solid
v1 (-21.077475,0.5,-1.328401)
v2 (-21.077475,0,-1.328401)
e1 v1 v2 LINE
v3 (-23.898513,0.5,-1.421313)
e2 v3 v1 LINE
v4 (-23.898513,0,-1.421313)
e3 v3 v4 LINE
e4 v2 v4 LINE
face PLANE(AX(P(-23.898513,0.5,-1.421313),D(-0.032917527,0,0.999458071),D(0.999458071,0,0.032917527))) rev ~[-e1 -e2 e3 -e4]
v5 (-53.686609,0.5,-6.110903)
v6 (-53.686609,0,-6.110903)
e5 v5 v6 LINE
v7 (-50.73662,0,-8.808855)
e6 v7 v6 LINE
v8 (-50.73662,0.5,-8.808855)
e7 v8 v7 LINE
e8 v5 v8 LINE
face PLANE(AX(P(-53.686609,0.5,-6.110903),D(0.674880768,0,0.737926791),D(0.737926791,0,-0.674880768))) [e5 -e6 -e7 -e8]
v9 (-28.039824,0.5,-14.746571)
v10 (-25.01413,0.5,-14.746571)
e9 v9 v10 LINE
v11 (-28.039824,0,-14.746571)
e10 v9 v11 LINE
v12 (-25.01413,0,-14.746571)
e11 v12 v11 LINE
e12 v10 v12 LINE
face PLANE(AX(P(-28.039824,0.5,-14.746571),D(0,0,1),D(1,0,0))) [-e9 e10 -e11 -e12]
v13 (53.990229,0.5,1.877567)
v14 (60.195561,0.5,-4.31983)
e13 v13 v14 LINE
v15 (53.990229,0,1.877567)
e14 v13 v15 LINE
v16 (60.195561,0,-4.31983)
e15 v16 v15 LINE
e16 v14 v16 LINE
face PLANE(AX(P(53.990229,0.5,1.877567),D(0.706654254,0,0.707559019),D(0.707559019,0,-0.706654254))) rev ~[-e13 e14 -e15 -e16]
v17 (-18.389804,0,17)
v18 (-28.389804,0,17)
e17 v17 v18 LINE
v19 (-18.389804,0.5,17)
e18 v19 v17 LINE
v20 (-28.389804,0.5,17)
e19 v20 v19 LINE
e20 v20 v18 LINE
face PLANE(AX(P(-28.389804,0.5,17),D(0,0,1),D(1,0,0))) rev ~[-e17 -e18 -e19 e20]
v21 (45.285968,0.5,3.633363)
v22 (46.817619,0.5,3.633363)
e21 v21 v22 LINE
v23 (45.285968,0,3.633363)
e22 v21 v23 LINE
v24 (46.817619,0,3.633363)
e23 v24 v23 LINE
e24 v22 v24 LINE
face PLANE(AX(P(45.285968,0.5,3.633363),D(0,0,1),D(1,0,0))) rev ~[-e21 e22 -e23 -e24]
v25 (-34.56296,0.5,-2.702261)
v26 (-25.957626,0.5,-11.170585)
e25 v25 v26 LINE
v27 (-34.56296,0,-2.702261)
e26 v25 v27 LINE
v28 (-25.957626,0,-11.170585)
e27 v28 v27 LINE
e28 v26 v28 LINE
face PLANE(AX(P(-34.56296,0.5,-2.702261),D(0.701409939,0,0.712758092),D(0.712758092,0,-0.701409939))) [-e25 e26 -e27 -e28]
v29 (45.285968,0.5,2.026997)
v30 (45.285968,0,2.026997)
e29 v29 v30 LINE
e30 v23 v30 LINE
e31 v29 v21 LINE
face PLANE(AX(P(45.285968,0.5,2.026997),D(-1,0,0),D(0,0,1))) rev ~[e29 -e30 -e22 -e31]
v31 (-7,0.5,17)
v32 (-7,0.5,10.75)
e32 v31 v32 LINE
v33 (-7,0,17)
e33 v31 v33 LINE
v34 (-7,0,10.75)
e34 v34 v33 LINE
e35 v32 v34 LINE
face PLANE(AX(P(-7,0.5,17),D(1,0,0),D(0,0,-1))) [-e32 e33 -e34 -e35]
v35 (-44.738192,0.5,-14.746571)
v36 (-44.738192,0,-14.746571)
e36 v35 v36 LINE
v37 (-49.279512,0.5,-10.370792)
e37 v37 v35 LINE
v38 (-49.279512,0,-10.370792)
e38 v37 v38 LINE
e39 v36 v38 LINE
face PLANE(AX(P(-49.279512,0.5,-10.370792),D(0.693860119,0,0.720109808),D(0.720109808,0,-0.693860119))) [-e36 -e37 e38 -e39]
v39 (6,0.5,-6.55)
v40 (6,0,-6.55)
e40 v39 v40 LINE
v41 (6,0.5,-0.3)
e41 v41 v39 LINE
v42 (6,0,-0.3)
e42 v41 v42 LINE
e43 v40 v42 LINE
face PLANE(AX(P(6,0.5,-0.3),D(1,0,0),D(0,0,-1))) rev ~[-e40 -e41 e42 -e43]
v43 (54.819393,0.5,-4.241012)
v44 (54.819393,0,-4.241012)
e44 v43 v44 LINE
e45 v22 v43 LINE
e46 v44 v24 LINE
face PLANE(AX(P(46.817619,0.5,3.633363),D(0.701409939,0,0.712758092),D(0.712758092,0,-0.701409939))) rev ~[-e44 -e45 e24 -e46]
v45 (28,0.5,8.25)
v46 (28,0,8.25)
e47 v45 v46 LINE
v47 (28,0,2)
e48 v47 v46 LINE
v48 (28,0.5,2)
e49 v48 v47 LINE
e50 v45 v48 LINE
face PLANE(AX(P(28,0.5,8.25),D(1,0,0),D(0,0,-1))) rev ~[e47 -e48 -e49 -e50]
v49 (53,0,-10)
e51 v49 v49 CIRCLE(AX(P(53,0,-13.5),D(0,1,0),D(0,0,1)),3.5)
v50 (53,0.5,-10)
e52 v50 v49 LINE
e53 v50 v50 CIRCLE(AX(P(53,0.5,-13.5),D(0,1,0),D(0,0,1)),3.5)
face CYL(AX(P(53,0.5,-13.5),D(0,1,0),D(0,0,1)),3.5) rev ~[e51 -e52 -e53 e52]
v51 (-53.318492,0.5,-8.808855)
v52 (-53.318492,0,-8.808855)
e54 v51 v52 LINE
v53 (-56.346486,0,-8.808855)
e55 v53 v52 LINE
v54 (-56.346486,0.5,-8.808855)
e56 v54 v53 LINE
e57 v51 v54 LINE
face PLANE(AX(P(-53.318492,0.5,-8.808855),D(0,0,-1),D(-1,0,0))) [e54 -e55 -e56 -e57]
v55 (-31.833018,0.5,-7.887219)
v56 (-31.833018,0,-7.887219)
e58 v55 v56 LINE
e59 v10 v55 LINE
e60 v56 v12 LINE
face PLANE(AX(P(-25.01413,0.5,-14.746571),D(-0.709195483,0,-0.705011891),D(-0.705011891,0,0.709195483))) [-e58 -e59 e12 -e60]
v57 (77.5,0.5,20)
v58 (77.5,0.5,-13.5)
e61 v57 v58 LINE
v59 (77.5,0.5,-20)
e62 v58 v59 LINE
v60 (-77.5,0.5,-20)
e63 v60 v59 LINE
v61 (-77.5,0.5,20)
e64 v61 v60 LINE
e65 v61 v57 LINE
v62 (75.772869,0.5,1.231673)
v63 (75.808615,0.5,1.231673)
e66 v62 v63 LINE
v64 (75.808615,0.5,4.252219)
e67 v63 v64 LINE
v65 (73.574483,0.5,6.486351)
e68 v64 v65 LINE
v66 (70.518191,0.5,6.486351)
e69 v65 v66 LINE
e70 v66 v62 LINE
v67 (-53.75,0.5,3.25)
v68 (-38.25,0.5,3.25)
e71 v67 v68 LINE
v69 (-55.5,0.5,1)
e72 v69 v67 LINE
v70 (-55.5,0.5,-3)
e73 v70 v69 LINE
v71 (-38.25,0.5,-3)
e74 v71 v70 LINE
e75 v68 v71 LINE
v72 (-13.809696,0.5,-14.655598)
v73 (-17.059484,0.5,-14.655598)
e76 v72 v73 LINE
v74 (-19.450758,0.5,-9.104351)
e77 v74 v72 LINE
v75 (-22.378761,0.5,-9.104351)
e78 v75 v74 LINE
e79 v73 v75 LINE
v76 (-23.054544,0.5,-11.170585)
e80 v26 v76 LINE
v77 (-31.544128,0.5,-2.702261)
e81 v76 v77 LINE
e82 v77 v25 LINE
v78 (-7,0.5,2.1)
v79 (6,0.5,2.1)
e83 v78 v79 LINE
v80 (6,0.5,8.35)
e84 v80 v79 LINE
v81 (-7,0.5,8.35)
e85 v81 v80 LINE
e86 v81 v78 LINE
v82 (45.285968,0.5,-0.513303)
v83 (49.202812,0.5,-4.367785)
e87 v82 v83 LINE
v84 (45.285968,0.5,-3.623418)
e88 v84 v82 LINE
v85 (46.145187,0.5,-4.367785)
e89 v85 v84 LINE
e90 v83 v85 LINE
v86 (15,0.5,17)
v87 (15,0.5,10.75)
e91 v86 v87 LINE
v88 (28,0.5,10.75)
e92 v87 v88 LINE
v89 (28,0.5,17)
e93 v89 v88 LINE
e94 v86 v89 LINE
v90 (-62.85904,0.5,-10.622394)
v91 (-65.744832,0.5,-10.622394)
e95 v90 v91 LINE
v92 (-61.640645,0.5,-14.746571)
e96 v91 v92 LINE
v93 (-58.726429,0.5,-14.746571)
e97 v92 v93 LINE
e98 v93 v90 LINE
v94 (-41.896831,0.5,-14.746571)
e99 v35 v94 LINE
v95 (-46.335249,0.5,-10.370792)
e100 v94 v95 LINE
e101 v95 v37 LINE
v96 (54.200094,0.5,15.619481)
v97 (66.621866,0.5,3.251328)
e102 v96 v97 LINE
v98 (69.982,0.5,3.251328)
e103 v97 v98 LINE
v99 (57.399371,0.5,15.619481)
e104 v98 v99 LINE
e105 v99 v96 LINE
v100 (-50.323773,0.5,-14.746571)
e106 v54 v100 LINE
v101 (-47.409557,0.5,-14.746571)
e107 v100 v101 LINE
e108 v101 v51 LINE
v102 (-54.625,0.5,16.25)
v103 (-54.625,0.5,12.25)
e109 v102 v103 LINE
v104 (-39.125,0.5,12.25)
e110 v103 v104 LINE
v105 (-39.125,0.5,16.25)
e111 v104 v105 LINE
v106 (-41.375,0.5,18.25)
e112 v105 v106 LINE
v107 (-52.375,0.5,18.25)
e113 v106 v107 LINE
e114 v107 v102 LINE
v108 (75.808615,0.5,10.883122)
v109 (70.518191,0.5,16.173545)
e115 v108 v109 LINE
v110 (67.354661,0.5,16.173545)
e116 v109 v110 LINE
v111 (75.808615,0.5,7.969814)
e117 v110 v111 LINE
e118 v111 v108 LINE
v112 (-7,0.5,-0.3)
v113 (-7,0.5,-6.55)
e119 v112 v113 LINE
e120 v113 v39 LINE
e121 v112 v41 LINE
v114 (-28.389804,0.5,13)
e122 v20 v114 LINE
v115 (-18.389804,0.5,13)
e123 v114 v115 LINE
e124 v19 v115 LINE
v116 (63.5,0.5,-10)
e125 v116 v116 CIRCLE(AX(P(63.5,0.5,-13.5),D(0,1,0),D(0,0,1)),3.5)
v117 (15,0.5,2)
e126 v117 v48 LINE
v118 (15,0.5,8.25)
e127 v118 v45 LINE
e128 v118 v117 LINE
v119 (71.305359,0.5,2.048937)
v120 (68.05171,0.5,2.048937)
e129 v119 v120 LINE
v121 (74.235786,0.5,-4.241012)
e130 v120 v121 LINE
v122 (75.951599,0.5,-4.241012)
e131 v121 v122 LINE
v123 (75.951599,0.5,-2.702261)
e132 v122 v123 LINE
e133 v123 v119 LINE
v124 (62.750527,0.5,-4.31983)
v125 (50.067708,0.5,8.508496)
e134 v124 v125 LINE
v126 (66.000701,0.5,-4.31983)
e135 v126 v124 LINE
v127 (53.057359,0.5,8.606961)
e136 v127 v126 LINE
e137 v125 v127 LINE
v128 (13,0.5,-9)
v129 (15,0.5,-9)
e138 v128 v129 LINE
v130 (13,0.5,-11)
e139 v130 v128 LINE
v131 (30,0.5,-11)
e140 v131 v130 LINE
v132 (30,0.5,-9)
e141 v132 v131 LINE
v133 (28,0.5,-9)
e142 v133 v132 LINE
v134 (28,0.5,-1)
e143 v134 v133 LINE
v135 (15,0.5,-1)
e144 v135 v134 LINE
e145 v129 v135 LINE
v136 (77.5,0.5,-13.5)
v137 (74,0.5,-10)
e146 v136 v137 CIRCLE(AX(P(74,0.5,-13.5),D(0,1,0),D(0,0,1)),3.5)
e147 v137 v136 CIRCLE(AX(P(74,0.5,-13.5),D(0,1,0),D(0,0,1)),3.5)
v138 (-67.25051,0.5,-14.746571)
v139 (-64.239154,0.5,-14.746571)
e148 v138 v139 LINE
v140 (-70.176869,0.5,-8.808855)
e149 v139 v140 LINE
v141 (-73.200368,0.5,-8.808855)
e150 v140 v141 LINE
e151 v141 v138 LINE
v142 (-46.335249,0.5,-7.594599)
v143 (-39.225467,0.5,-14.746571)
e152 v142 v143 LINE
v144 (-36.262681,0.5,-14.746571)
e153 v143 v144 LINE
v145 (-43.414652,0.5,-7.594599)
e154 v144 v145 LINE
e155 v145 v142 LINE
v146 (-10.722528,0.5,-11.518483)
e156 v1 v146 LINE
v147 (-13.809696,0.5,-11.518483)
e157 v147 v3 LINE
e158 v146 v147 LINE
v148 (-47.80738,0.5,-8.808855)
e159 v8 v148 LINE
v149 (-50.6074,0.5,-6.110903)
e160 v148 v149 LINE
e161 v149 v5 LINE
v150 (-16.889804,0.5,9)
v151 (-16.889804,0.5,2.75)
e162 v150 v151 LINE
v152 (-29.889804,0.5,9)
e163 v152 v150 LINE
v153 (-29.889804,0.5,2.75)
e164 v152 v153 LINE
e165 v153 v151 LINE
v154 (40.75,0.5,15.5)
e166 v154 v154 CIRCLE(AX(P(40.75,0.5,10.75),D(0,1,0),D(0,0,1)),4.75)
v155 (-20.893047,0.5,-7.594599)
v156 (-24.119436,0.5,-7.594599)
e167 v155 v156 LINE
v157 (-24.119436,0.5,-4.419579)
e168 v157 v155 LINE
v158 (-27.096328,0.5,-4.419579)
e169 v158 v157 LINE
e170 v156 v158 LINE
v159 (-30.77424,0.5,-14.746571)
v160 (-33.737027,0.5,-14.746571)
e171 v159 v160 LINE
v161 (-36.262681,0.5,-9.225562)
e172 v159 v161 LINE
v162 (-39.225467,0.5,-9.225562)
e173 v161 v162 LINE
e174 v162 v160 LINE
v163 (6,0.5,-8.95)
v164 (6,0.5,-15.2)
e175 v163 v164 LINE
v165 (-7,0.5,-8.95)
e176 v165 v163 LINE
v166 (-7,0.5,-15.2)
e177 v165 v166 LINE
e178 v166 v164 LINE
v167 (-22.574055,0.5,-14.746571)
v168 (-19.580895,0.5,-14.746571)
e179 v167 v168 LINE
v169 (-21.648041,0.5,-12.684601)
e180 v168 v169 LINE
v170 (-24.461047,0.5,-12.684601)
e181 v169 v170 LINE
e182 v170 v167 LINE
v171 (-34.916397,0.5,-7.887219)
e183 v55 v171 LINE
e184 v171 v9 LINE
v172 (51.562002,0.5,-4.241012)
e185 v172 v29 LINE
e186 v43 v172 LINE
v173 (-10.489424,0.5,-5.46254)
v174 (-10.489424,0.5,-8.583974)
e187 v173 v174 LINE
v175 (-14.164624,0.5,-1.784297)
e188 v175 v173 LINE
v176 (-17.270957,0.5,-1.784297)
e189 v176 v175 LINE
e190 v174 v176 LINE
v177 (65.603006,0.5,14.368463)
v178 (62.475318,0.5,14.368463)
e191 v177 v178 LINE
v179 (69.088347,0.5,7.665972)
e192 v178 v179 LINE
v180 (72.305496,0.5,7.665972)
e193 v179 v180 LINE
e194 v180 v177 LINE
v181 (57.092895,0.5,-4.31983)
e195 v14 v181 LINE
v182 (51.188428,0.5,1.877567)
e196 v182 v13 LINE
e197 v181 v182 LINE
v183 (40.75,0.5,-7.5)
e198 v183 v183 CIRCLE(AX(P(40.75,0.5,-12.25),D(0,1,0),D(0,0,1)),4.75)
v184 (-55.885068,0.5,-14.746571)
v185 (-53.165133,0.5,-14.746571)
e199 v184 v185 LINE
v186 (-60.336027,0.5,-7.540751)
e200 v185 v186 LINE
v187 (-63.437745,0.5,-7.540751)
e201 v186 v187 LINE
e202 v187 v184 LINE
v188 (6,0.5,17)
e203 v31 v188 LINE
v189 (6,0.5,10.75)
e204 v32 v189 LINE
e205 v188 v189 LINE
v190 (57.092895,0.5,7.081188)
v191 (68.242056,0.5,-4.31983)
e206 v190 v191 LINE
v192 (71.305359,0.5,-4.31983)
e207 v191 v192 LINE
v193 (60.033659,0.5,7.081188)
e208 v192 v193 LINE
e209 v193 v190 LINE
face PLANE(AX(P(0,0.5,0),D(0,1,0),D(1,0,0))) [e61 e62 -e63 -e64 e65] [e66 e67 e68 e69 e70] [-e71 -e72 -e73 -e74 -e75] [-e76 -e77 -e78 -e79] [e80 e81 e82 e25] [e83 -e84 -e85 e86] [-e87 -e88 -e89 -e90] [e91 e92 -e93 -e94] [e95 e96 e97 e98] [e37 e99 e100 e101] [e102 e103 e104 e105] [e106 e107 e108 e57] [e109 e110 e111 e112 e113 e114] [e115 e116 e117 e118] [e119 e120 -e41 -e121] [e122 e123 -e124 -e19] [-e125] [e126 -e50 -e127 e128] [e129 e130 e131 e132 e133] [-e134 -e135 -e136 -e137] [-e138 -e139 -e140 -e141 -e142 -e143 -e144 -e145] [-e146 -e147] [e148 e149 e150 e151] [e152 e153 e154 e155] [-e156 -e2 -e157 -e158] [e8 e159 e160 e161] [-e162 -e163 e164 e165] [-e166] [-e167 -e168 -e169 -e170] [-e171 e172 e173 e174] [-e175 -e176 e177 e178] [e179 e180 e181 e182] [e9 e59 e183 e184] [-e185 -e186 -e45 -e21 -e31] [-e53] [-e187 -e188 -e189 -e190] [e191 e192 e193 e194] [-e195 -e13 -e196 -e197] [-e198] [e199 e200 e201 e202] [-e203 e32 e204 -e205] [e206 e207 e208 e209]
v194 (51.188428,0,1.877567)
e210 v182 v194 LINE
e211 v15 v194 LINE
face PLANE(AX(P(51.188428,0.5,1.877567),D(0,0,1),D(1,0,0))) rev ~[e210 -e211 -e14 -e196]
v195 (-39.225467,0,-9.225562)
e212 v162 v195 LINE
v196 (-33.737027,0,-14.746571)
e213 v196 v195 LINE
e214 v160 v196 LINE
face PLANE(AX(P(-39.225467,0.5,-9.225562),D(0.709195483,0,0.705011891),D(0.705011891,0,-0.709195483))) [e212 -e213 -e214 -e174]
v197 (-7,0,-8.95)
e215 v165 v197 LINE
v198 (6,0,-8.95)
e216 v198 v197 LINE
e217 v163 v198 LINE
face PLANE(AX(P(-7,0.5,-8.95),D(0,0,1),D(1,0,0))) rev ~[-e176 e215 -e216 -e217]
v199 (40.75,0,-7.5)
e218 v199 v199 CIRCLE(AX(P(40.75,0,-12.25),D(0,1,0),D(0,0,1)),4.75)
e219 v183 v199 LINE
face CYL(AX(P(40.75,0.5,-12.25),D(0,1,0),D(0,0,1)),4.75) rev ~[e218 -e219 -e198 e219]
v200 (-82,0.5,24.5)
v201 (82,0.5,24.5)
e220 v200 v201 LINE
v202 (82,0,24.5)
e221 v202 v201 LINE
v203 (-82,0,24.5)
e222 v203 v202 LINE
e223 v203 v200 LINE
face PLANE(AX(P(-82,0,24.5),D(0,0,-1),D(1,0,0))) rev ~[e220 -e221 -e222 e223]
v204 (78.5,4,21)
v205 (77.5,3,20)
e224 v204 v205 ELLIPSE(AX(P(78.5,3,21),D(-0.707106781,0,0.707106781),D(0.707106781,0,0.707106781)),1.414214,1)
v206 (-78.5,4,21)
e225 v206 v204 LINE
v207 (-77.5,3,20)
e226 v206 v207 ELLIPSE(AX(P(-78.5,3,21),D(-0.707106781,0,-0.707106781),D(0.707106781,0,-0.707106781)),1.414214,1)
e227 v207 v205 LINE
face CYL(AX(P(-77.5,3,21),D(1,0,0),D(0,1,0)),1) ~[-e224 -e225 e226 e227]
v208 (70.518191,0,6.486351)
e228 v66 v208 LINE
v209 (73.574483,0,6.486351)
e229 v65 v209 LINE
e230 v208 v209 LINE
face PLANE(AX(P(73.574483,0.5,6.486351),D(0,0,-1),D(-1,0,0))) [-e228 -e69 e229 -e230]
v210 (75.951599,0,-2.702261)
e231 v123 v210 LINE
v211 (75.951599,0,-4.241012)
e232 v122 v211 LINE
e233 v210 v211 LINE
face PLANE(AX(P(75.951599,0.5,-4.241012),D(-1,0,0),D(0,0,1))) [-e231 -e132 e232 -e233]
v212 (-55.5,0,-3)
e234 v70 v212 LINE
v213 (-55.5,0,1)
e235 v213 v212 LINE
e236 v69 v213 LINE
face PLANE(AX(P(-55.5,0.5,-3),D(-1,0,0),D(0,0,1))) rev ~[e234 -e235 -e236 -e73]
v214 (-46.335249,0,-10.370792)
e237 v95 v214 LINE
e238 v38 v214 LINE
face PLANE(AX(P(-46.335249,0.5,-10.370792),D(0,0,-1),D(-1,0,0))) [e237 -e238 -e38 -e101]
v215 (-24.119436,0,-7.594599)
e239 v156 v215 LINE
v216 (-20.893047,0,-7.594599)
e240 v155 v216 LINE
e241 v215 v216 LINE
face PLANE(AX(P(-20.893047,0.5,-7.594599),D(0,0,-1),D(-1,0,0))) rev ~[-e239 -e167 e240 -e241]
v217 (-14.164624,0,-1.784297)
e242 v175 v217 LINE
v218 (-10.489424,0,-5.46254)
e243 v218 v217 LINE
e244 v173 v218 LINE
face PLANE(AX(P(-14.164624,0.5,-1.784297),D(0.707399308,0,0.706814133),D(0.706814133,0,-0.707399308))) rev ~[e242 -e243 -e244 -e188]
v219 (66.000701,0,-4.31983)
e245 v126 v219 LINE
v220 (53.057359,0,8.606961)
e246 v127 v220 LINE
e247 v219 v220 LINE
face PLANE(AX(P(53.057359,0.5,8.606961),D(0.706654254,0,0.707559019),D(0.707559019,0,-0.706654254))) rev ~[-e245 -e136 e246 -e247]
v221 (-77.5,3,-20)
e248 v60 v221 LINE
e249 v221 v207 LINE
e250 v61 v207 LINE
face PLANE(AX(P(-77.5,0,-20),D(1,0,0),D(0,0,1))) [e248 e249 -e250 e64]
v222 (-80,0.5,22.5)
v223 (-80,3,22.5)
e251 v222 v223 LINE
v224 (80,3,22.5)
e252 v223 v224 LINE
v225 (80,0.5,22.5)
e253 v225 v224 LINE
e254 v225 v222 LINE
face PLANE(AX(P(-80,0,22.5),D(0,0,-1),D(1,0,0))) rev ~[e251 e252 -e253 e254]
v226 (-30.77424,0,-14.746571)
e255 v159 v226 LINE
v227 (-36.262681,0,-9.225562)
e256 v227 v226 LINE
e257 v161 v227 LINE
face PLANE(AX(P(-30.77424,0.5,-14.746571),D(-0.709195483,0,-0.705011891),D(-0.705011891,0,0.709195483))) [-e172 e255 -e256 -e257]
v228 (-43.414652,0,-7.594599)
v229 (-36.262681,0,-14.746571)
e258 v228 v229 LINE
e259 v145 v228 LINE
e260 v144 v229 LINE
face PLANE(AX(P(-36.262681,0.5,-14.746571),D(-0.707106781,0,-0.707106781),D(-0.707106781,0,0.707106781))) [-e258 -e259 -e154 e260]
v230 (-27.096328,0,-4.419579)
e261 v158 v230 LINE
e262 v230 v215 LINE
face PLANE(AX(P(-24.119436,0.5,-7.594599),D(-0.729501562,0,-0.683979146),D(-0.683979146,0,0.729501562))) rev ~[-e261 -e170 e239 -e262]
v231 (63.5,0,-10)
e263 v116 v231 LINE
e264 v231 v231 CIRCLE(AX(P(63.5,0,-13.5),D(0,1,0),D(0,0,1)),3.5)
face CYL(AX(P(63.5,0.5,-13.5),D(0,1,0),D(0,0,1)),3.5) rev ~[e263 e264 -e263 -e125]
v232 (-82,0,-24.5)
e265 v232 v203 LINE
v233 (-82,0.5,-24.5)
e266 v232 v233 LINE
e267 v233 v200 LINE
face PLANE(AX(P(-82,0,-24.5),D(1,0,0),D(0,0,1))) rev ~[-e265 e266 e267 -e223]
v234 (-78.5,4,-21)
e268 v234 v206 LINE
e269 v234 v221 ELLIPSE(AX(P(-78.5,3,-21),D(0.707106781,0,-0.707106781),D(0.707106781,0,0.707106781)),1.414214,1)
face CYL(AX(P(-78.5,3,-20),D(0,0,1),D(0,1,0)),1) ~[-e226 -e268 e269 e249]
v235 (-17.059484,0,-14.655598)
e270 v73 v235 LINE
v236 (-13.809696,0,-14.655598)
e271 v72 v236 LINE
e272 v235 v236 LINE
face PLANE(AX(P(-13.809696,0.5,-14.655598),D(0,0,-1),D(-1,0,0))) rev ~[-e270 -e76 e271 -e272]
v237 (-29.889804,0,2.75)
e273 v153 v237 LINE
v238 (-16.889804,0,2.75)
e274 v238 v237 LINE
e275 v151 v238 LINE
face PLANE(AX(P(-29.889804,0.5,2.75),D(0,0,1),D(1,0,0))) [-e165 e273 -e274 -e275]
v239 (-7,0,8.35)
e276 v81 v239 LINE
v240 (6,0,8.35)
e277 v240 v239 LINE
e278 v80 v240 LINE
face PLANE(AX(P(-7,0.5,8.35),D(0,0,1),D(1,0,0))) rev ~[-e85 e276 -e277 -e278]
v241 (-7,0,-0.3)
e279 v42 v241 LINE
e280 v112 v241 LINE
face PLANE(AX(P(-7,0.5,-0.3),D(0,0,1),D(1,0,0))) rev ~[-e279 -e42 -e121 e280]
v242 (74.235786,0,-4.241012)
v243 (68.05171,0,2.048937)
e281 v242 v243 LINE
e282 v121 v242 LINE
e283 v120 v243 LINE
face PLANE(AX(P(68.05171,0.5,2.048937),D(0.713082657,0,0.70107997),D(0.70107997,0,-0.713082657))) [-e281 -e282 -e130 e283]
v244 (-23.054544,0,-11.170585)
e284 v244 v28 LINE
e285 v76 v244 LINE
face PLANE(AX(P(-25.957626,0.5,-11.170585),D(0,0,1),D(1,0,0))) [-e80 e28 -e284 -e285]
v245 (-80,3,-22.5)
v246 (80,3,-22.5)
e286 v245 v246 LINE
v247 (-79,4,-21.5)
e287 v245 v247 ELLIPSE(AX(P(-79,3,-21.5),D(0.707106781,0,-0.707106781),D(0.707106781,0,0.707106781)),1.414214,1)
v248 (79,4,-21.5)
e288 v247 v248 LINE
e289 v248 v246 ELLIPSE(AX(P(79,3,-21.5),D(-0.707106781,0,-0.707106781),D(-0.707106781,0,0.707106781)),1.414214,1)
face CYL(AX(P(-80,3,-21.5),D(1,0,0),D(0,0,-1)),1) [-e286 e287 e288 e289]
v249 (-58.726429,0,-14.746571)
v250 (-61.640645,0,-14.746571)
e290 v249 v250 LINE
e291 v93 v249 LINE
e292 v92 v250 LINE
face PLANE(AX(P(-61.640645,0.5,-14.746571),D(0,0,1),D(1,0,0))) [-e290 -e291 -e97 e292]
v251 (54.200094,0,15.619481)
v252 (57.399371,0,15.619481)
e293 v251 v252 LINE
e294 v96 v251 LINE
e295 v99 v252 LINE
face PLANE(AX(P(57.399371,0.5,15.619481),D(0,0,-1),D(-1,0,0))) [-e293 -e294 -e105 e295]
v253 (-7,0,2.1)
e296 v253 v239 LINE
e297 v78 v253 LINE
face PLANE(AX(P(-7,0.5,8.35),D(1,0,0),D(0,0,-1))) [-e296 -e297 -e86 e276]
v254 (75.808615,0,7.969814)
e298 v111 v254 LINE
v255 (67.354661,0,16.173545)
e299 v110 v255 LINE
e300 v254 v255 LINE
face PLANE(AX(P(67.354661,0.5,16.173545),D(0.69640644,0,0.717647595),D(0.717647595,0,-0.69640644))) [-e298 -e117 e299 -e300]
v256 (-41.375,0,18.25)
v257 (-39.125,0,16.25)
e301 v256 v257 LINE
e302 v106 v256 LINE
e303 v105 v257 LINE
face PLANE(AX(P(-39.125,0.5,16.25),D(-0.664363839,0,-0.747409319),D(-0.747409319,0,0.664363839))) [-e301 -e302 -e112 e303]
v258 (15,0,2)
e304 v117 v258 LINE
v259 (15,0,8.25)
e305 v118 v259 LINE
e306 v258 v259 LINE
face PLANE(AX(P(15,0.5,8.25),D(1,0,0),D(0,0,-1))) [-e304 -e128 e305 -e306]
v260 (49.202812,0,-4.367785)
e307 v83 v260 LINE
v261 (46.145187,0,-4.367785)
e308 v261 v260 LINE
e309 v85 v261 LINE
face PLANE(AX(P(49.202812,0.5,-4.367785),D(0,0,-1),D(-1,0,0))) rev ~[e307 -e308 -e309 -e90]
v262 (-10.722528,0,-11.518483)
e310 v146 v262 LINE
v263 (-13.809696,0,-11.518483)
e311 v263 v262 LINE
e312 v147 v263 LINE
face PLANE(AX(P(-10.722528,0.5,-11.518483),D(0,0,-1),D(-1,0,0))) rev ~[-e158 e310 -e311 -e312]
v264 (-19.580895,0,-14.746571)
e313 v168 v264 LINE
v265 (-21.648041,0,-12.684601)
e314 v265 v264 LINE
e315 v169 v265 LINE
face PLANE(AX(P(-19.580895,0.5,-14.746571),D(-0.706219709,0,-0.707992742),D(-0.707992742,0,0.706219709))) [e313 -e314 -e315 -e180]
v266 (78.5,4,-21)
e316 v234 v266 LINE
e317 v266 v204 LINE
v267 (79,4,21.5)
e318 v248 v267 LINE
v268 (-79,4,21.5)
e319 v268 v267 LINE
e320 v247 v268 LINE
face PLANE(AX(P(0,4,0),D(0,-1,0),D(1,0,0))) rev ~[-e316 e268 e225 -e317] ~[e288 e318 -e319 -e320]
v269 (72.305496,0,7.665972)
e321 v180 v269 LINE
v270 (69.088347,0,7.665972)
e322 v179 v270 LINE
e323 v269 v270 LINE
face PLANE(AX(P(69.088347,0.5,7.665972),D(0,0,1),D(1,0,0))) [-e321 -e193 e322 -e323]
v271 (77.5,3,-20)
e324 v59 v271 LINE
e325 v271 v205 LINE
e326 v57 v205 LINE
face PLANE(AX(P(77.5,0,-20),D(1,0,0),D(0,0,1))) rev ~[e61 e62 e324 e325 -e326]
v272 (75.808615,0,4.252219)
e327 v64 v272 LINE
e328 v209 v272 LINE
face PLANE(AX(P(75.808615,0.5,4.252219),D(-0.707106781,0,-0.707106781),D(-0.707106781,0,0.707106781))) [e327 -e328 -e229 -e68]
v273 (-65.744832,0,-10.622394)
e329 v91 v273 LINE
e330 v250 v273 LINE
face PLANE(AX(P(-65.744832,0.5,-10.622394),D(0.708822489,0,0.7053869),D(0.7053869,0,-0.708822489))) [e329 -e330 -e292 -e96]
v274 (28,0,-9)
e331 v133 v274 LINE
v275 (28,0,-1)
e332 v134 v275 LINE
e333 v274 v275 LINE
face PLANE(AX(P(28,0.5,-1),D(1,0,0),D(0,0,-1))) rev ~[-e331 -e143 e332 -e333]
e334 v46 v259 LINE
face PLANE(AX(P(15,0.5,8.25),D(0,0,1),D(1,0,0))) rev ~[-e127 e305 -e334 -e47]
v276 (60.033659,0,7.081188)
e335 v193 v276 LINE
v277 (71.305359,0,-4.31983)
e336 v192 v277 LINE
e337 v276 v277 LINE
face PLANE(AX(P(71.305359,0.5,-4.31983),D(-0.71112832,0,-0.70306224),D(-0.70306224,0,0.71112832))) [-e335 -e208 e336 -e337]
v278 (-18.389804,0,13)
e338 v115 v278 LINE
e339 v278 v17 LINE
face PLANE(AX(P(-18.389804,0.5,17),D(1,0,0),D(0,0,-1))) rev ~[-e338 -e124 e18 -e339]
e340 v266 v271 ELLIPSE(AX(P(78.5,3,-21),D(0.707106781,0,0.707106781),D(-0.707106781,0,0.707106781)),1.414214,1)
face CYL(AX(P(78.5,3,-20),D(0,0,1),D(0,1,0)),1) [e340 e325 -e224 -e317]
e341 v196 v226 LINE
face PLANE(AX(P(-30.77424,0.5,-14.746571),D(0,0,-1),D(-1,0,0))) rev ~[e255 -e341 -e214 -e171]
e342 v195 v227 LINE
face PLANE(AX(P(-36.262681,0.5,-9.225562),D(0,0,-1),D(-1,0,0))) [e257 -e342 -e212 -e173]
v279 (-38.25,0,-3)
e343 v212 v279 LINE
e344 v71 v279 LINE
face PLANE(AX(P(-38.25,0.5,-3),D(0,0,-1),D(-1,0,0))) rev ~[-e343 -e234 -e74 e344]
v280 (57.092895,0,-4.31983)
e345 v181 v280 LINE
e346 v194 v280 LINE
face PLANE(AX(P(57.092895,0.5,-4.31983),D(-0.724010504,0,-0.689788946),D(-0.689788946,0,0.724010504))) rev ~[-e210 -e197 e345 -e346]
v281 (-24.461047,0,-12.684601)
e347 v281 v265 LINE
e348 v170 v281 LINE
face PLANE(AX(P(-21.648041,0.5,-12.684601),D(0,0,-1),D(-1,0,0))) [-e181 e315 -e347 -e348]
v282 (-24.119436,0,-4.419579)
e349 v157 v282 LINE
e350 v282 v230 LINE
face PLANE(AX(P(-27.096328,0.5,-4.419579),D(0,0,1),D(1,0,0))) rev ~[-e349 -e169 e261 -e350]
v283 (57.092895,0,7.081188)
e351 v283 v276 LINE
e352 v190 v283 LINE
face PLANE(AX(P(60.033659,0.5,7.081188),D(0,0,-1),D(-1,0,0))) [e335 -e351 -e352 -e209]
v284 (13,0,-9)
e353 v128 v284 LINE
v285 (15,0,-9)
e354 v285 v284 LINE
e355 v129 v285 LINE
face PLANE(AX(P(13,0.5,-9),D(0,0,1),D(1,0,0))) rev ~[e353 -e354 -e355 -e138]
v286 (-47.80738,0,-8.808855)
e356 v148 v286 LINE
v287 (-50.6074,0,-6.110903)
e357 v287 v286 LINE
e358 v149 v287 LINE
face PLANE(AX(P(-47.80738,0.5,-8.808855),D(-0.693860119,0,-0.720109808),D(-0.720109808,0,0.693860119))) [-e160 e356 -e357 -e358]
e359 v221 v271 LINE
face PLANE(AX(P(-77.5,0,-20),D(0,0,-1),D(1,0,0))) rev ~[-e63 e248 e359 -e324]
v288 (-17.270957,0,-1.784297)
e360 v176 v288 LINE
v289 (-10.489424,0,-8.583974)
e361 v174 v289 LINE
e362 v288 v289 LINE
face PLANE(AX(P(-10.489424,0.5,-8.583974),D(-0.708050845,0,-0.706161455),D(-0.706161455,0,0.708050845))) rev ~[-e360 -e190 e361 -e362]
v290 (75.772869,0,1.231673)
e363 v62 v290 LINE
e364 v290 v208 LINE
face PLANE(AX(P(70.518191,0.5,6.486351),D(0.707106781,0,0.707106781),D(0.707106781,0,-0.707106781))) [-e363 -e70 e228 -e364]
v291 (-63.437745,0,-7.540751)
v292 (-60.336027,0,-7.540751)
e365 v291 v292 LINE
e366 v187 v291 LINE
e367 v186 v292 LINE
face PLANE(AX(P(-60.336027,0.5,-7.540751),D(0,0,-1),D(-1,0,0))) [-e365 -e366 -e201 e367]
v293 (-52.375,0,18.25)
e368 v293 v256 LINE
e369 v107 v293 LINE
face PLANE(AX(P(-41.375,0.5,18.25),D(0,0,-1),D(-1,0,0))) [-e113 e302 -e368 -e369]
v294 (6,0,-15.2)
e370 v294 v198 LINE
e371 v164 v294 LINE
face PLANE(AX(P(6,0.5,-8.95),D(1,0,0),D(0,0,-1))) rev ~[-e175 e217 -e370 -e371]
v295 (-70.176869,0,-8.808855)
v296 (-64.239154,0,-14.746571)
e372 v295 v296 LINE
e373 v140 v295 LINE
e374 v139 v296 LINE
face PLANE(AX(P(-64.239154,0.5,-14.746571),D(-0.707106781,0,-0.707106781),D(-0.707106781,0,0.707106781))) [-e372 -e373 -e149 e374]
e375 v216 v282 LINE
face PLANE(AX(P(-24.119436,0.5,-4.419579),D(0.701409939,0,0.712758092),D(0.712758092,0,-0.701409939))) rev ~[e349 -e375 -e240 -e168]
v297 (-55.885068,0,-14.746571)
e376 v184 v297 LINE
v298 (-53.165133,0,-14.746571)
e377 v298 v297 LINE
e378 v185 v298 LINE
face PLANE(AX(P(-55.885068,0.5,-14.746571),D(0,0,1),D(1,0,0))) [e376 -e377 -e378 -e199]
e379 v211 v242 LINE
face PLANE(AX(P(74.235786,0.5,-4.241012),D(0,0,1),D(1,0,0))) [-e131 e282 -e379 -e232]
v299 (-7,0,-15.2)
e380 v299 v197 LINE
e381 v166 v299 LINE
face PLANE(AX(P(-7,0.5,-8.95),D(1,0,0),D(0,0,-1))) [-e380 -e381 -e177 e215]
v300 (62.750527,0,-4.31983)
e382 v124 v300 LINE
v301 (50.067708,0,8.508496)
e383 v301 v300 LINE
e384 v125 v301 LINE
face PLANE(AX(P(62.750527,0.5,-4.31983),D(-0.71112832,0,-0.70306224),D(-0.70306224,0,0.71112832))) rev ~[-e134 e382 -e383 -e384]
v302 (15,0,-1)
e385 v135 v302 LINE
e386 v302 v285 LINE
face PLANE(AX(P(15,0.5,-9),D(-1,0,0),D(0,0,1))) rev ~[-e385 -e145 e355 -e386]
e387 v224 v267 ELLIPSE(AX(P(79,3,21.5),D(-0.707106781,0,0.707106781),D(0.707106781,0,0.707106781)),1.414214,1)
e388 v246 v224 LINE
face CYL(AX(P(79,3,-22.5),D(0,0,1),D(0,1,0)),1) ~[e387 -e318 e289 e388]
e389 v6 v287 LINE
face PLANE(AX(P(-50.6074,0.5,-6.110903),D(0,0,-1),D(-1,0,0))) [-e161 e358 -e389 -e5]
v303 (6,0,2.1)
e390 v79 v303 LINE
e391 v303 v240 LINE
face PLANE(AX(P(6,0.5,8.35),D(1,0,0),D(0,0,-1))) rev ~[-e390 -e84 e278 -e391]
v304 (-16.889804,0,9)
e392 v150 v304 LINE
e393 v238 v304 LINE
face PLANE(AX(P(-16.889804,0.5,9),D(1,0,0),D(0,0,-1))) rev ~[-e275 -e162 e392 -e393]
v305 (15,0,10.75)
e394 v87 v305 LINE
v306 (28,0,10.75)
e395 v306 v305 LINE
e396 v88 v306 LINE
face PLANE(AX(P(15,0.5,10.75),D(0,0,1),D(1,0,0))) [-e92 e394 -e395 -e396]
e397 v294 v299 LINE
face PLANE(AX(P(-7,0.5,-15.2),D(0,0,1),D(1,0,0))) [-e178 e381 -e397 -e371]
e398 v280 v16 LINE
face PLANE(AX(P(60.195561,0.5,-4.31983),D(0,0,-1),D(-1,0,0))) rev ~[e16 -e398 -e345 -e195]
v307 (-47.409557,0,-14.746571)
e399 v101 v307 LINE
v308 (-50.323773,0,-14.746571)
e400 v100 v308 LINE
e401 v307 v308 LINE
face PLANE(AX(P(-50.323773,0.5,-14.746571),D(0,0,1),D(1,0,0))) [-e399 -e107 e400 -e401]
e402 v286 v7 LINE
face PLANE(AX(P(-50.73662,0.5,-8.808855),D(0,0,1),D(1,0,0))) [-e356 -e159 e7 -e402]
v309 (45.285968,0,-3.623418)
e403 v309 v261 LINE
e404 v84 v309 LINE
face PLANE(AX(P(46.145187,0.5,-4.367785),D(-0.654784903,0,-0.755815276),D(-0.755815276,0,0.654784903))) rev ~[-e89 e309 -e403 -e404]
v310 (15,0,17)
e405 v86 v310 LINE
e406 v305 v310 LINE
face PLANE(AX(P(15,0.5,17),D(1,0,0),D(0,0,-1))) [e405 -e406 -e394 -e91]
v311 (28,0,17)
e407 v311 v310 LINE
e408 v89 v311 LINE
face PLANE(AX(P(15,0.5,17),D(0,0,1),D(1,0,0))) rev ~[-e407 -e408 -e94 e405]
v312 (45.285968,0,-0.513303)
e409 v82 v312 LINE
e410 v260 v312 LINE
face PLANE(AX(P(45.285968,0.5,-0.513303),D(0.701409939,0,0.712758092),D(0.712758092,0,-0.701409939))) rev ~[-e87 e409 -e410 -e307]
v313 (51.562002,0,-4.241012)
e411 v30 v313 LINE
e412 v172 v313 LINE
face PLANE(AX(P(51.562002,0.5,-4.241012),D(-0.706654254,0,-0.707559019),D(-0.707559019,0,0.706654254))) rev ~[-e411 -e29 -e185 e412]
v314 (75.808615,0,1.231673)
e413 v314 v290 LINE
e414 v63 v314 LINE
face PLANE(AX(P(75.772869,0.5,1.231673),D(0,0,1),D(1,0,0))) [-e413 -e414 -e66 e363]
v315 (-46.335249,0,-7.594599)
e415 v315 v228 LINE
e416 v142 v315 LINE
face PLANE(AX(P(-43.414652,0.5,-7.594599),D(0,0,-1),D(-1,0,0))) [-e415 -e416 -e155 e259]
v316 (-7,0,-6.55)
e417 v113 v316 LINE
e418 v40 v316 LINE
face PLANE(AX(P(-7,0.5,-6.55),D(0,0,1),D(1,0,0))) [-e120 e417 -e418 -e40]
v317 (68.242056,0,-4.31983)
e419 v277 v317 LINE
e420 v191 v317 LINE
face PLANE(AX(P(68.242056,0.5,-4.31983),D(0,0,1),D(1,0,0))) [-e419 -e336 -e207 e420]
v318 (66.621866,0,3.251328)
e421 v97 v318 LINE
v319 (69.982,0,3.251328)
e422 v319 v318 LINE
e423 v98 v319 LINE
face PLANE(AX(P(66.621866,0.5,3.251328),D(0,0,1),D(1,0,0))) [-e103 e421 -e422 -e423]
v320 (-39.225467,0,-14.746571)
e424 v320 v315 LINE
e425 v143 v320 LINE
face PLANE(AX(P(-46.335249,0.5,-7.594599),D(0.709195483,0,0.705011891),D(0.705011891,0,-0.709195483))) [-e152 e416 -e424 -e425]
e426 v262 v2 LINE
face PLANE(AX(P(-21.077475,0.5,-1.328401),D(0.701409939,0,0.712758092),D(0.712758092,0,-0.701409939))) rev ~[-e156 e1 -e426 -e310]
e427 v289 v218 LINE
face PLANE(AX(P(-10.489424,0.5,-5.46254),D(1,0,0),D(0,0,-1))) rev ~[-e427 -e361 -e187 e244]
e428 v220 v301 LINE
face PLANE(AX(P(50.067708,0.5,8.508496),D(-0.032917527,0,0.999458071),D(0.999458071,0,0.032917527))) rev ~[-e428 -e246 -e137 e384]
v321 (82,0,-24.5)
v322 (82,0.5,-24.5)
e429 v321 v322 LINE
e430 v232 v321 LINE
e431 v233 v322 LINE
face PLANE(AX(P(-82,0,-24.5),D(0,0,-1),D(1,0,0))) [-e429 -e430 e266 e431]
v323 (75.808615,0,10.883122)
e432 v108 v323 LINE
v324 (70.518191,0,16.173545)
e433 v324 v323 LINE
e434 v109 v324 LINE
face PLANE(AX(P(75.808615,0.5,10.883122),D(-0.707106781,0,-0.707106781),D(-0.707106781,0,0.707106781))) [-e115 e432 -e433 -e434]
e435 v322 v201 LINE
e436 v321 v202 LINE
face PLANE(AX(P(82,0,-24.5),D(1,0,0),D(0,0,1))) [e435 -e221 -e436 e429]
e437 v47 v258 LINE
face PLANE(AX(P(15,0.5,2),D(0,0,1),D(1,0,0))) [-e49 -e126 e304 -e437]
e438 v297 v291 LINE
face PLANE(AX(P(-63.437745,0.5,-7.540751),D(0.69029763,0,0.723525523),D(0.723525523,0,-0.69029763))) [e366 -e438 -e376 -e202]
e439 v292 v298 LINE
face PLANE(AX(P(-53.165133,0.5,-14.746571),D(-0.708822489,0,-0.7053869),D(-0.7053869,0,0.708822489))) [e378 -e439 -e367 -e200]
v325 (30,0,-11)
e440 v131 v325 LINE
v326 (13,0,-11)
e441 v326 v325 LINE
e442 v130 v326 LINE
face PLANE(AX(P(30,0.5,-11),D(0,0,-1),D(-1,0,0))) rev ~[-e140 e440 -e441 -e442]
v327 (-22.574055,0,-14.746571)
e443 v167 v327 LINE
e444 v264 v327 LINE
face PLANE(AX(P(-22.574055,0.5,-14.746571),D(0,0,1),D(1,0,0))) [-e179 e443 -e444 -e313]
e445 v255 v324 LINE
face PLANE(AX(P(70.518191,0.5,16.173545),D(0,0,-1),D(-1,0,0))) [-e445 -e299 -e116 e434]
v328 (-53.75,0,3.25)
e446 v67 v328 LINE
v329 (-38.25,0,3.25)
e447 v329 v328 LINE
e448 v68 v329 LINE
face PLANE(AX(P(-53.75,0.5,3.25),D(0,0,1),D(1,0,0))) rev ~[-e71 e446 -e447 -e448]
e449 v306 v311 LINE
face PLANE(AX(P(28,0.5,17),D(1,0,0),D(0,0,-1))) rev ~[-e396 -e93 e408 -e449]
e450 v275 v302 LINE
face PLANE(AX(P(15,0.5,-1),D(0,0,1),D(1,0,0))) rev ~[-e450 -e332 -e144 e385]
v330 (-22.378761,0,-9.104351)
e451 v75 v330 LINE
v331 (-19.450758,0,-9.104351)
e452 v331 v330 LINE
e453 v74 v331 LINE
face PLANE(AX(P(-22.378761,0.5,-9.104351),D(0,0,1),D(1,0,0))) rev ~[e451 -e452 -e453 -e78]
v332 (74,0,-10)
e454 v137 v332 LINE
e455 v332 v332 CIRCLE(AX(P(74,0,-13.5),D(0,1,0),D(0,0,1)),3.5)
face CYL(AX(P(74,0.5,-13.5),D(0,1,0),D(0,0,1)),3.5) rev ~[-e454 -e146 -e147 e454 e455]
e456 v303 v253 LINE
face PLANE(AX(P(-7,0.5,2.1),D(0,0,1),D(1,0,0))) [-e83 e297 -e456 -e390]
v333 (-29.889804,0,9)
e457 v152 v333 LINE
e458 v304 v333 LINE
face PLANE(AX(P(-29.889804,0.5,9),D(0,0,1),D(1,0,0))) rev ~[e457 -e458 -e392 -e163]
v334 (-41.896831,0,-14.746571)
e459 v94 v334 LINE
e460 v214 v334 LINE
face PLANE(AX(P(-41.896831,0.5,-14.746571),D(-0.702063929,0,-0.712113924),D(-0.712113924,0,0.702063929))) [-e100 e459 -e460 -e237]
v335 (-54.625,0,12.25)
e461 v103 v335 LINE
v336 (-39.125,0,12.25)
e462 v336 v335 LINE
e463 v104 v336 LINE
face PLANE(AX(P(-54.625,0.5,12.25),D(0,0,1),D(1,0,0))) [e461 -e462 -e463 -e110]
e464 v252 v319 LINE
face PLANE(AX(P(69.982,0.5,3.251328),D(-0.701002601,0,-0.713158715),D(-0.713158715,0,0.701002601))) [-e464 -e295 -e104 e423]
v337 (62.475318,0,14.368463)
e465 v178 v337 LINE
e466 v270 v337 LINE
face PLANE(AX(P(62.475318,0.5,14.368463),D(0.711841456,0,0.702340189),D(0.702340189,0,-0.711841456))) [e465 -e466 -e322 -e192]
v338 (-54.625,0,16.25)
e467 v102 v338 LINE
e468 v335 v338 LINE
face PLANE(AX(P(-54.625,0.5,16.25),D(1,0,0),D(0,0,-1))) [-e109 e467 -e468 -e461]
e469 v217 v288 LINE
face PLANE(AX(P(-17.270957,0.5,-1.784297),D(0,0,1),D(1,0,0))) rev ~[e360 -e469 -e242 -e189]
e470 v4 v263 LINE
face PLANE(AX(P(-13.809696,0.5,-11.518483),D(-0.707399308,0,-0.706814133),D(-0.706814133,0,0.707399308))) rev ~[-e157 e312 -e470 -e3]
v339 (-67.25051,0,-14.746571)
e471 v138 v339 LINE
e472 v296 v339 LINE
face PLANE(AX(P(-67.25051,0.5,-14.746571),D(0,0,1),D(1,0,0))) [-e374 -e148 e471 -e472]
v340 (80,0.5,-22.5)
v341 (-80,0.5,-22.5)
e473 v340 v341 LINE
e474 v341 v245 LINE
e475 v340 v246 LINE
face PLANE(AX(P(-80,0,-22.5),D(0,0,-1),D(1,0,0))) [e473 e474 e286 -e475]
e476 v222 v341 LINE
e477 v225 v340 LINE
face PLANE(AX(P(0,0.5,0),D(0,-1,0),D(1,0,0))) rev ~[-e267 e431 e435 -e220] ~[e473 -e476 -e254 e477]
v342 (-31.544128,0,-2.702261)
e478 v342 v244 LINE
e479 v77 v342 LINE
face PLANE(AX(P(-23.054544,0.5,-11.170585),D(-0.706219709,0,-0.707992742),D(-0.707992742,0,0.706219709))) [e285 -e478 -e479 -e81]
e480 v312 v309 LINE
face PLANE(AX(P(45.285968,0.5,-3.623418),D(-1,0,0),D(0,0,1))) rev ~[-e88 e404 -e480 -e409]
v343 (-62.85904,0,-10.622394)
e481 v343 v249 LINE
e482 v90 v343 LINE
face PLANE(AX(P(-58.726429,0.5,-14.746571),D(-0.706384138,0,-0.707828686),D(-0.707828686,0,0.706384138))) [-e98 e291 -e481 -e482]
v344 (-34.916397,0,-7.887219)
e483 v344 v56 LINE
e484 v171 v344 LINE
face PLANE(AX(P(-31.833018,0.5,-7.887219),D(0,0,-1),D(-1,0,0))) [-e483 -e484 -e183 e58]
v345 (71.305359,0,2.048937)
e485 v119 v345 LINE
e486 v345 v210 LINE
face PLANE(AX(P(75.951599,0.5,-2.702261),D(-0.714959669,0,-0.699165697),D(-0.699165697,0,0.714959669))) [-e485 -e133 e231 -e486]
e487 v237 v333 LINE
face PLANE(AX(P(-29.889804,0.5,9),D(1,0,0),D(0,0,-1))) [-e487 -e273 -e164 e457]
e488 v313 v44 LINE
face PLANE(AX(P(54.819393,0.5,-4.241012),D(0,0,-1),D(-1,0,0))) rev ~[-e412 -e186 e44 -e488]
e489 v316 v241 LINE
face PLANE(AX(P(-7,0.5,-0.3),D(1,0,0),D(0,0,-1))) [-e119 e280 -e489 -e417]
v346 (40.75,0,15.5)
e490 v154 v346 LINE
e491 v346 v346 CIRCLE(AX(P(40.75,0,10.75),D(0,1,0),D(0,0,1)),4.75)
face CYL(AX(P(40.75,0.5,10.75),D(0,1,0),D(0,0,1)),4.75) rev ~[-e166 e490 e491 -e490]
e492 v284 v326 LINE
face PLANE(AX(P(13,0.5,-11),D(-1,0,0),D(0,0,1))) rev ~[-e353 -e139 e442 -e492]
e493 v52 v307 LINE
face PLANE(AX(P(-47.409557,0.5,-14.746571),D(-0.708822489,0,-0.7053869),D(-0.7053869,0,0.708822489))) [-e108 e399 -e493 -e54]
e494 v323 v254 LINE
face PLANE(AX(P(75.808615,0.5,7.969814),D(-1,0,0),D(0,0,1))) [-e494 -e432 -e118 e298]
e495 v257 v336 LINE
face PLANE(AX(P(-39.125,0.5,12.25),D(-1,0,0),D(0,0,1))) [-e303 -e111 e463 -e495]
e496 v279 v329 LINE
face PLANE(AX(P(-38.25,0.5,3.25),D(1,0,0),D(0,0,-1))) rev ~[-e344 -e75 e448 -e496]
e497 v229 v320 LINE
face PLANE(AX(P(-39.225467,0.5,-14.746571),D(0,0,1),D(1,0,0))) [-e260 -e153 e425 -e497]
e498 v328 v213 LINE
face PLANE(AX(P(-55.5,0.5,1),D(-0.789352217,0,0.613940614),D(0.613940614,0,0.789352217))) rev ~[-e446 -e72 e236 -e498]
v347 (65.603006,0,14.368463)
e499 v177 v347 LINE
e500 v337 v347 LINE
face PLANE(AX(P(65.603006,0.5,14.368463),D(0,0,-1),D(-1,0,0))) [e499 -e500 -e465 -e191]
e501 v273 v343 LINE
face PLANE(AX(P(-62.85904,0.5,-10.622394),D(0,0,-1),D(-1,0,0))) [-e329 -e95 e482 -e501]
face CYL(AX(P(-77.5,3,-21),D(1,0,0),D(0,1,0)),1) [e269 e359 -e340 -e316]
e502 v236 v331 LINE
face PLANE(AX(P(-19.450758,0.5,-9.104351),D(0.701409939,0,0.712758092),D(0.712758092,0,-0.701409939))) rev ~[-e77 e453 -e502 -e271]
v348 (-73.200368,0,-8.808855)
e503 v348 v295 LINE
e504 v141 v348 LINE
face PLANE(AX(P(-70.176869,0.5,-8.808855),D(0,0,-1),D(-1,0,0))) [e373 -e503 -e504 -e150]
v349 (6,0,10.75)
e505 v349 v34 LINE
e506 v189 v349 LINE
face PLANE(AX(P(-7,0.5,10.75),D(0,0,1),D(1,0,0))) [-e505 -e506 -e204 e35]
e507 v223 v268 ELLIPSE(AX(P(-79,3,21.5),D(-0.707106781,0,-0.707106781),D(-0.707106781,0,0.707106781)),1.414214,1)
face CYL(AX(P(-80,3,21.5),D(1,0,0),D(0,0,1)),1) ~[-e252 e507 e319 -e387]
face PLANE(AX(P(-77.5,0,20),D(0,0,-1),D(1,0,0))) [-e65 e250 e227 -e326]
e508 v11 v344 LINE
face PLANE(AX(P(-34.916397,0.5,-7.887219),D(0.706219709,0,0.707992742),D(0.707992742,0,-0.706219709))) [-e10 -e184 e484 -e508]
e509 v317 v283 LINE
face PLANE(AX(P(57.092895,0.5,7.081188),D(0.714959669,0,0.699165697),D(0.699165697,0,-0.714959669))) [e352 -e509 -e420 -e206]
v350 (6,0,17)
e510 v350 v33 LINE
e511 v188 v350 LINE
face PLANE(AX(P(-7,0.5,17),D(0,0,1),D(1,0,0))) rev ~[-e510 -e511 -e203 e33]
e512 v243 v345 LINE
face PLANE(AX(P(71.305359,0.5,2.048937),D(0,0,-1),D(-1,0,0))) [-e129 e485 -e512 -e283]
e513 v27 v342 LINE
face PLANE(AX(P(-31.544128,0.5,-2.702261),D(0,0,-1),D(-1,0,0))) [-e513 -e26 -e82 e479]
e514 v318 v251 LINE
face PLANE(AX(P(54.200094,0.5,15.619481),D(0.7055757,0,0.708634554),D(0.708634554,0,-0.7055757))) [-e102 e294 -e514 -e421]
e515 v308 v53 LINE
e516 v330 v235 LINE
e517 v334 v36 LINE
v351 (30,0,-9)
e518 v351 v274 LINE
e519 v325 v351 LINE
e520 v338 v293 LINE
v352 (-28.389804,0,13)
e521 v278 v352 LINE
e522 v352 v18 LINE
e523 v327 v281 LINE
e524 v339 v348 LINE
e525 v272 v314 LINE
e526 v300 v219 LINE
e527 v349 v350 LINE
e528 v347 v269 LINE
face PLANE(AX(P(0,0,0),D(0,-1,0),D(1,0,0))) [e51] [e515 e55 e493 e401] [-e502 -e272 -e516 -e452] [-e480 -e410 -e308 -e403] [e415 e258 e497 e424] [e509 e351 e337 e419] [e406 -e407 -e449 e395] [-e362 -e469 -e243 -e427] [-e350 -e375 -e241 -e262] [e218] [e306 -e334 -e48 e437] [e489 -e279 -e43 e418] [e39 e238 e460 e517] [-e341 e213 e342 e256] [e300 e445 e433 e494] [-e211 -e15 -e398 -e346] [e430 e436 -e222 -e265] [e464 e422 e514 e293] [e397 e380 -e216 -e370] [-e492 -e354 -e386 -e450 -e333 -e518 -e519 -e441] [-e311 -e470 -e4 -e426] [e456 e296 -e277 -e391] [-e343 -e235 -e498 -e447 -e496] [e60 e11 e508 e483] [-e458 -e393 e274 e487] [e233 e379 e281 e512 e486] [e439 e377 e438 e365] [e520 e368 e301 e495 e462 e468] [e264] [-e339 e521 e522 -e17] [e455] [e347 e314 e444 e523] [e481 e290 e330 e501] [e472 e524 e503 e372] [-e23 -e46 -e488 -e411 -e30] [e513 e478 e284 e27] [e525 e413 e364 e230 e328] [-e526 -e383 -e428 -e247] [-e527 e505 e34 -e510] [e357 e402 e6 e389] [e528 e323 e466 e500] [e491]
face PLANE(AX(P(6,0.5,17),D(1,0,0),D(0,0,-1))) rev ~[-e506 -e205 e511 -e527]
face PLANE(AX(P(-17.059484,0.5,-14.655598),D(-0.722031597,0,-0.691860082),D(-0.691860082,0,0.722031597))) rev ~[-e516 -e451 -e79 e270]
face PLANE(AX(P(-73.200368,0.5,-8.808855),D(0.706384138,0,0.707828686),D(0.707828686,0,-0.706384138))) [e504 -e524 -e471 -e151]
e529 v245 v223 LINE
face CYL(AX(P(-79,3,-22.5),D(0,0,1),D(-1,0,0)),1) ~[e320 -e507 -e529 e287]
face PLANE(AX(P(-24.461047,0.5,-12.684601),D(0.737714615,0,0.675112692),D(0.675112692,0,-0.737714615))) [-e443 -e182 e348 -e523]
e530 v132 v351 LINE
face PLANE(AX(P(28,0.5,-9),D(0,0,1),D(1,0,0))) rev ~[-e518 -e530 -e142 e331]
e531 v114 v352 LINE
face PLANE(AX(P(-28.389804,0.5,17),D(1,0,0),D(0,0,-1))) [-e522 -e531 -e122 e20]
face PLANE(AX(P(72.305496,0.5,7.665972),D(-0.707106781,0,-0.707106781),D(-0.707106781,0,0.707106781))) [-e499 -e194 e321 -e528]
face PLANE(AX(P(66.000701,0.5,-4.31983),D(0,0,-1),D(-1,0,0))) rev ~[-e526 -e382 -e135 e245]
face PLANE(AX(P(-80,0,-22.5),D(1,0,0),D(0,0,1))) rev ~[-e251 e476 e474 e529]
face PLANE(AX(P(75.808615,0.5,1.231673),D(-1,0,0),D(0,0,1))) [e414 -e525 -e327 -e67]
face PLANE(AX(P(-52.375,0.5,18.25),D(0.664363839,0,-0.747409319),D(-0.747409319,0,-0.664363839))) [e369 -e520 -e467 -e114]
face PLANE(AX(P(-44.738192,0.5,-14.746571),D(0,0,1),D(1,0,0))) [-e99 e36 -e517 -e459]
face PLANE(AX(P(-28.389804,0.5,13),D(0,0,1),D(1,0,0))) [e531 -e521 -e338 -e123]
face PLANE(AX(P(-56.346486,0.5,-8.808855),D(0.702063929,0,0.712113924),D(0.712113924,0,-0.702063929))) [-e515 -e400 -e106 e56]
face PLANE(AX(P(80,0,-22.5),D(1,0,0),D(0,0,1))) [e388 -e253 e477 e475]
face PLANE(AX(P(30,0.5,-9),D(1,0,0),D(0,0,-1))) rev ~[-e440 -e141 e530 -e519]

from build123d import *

# Parameters (mm, degrees)
SKETCH1_W           = 155
SKETCH1_H           = 40
BOSS_EXTRUDE1_DEPTH = 0.5
SKETCH2_W           = 160
SKETCH2_H           = 45
SKETCH2_W_2         = 155
SKETCH2_H_2         = 40
BOSS_EXTRUDE2_DEPTH = 4
FILLET1_R           = 1
SKETCH3_W           = 164
SKETCH3_H           = 49
BOSS_EXTRUDE3_DEPTH = 0.5
SKETCH5_R           = 3.5
SKETCH5_R_2         = 4.75
SKETCH5_W           = 13
SKETCH5_H           = 6.25
SKETCH5_W_2         = 10
SKETCH5_H_2         = 4
CUT_EXTRUDE1_DEPTH  = 86.653371212
CUT_EXTRUDE2_DEPTH  = 86.653371212


with BuildPart() as part:
    # Sketch1 → Boss-Extrude1 (new body)
    with BuildSketch(Plane(origin=(0, 0, 0), x_dir=(1, 0, 0), z_dir=(0, 1, 0))):
        Rectangle(SKETCH1_W, SKETCH1_H)
    extrude(amount=BOSS_EXTRUDE1_DEPTH)

    # Sketch2 → Boss-Extrude2 (add)
    with BuildSketch(Plane.XZ):
        Rectangle(SKETCH2_W, SKETCH2_H)
        Rectangle(SKETCH2_W_2, SKETCH2_H_2, mode=Mode.SUBTRACT)
    extrude(amount=-BOSS_EXTRUDE2_DEPTH)

    # Fillet1
    fillet1_edges = [part.edges().sort_by_distance(p)[0] for p in [
        (-80, 4, 0),
        (0, 4, 22.5),
        (80, 4, 0),
        (0, 4, -22.5),
        (77.5, 4, 0),
        (0, 4, 20),
        (-77.5, 4, 0),
        (0, 4, -20),
    ]]
    fillet(fillet1_edges, radius=FILLET1_R)

    # Sketch3 → Boss-Extrude3 (add)
    with BuildSketch(Plane.XZ):
        Rectangle(SKETCH3_W, SKETCH3_H)
    extrude(amount=-BOSS_EXTRUDE3_DEPTH)

    # Sketch5 → Cut-Extrude1 (cut, through all)
    with BuildSketch(Plane(origin=(0, 0.5, 0), x_dir=(1, 0, 0), z_dir=(0, 1, 0))):
        with Locations(Location((74, 13.5, 0), (0, 0, 270))):
            Circle(SKETCH5_R)
        with Locations(Location((63.5, 13.5, 0), (0, 0, 270))):
            Circle(SKETCH5_R)
        with Locations(Location((53, 13.5, 0), (0, 0, 270))):
            Circle(SKETCH5_R)
        with Locations(Location((40.75, 12.25, 0), (0, 0, 270))):
            Circle(SKETCH5_R_2)
        with Locations(Location((40.75, -10.75, 0), (0, 0, 270))):
            Circle(SKETCH5_R_2)
        with Locations((21.5, -13.875)):
            Rectangle(SKETCH5_W, SKETCH5_H)
        with Locations((21.5, -5.125)):
            Rectangle(SKETCH5_W, SKETCH5_H)
        Polygon((13, 11), (13, 9), (15, 9), (15, 1), (28, 1), (28, 9), (30, 9), (30, 11), align=None)
        with Locations((-0.5, -13.875)):
            Rectangle(SKETCH5_W, SKETCH5_H)
        with Locations((-0.5, -5.225)):
            Rectangle(SKETCH5_W, SKETCH5_H)
        with Locations((-0.5, 3.425)):
            Rectangle(SKETCH5_W, SKETCH5_H)
        with Locations((-0.5, 12.075)):
            Rectangle(SKETCH5_W, SKETCH5_H)
        with Locations((-23.389803957, -5.875)):
            Rectangle(SKETCH5_W, SKETCH5_H)
        with Locations((-23.389803957, -15)):
            Rectangle(SKETCH5_W_2, SKETCH5_H_2)
        Polygon((-55.5, 3), (-55.5, -1), (-53.75, -3.25), (-38.25, -3.25), (-38.25, 3), align=None)
        Polygon((-39.125, -12.25), (-39.125, -16.25), (-41.375, -18.25), (-52.375, -18.25), (-54.625, -16.25), (-54.625, -12.25), align=None)
    extrude(amount=-CUT_EXTRUDE1_DEPTH, mode=Mode.SUBTRACT)

    # Sketch7 → Cut-Extrude2 (cut, through all)
    with BuildSketch(Plane(origin=(0, 0.5, 0), x_dir=(1, 0, 0), z_dir=(0, 1, 0))):
        Polygon((-67.250510445, 14.746570529), (-64.239153938, 14.746570529), (-70.176868986, 8.808855481), (-73.200368059, 8.808855481), align=None)
        Polygon((-61.640644694, 14.746570529), (-58.726428719, 14.746570529), (-62.859039574, 10.622393574), (-65.744832191, 10.622393574), align=None)
        Polygon((-55.885068144, 14.746570529), (-53.165133234, 14.746570529), (-60.336027284, 7.540750618), (-63.437744545, 7.540750618), align=None)
        Polygon((-50.323772659, 14.746570529), (-47.409556685, 14.746570529), (-53.318492244, 8.808855481), (-56.346485673, 8.808855481), align=None)
        Polygon((-44.738192041, 14.746570529), (-41.896831466, 14.746570529), (-46.335248567, 10.37079238), (-49.279511935, 10.37079238), align=None)
        Polygon((-50.736619922, 8.808855481), (-47.807380251, 8.808855481), (-50.607399688, 6.110903309), (-53.686609439, 6.110903309), align=None)
        Polygon((-39.225466823, 14.746570529), (-36.262680582, 14.746570529), (-43.414652286, 7.594598825), (-46.335248567, 7.594598825), align=None)
        Polygon((-33.567030806, 14.746570529), (-30.774240497, 14.746570529), (-36.262680582, 9.225561643), (-39.225466823, 9.225561643), (-33.737026738, 14.746570529), align=None)
        Polygon((-28.039824293, 14.746570529), (-25.014130416, 14.746570529), (-31.833017792, 7.887219381), (-34.916396501, 7.887219381), align=None)
        Polygon((-22.574054709, 14.746570529), (-19.580895175, 14.746570529), (-21.648041016, 12.684601459), (-24.461046589, 12.684601459), align=None)
        Polygon((-25.957626356, 11.170584677), (-23.054543803, 11.170584677), (-31.544128494, 2.702260527), (-34.562960016, 2.702260527), align=None)
        Polygon((-27.096328353, 4.41957859), (-24.11943599, 4.41957859), (-20.893046917, 7.594598825), (-24.11943599, 7.594598825), align=None)
        Polygon((-22.378761422, 9.104350792), (-19.450757804, 9.104350792), (-13.809696196, 14.65559844), (-17.059483611, 14.65559844), align=None)
        Polygon((-23.898512836, 1.421313419), (-21.077474942, 1.328401476), (-10.722527867, 11.518482635), (-13.809696196, 11.518482635), align=None)
        Polygon((-17.270956838, 1.784296826), (-14.164624085, 1.784296826), (-10.489423725, 5.462539901), (-10.489423725, 8.583974463), align=None)
        Polygon((45.285967662, 3.623418363), (45.285967662, 0.513302694), (49.202811749, 4.367784889), (46.145186604, 4.367784889), align=None)
        Polygon((45.285967662, -2.026996785), (45.285967662, -3.633362633), (46.817618819, -3.633362633), (54.819393397, 4.241011979), (51.562001671, 4.241011979), align=None)
        Polygon((51.188428218, -1.877567404), (53.990229114, -1.877567404), (60.195561112, 4.319829757), (57.092895113, 4.319829757), align=None)
        Polygon((50.067707859, -8.508496193), (53.057358815, -8.606961469), (66.000700856, 4.319829757), (62.750526584, 4.319829757), align=None)
        Polygon((68.242056341, 4.319829757), (71.305358655, 4.319829757), (60.033658541, -7.081188124), (57.092895113, -7.081188124), align=None)
        Polygon((74.235786126, 4.241011979), (75.951599175, 4.241011979), (75.951599175, 2.702260527), (71.305358655, -2.048937359), (68.051709926, -2.048937359), align=None)
        Polygon((75.808614755, -1.231673392), (75.808614755, -4.252219282), (73.574483179, -6.486350857), (70.518191185, -6.486350857), (75.772868649, -1.231673392), align=None)
        Polygon((75.808614755, -7.969814223), (75.808614755, -10.883121797), (70.518191185, -16.173545367), (67.354660874, -16.173545367), align=None)
        Polygon((69.088346976, -7.665972329), (72.305496445, -7.665972329), (65.603005834, -14.36846294), (62.475317514, -14.36846294), align=None)
        Polygon((66.621865717, -3.251328336), (69.981999606, -3.251328336), (57.399370575, -15.619480737), (54.200094159, -15.619480737), align=None)
    extrude(amount=-CUT_EXTRUDE2_DEPTH, mode=Mode.SUBTRACT)


solid = part.part
